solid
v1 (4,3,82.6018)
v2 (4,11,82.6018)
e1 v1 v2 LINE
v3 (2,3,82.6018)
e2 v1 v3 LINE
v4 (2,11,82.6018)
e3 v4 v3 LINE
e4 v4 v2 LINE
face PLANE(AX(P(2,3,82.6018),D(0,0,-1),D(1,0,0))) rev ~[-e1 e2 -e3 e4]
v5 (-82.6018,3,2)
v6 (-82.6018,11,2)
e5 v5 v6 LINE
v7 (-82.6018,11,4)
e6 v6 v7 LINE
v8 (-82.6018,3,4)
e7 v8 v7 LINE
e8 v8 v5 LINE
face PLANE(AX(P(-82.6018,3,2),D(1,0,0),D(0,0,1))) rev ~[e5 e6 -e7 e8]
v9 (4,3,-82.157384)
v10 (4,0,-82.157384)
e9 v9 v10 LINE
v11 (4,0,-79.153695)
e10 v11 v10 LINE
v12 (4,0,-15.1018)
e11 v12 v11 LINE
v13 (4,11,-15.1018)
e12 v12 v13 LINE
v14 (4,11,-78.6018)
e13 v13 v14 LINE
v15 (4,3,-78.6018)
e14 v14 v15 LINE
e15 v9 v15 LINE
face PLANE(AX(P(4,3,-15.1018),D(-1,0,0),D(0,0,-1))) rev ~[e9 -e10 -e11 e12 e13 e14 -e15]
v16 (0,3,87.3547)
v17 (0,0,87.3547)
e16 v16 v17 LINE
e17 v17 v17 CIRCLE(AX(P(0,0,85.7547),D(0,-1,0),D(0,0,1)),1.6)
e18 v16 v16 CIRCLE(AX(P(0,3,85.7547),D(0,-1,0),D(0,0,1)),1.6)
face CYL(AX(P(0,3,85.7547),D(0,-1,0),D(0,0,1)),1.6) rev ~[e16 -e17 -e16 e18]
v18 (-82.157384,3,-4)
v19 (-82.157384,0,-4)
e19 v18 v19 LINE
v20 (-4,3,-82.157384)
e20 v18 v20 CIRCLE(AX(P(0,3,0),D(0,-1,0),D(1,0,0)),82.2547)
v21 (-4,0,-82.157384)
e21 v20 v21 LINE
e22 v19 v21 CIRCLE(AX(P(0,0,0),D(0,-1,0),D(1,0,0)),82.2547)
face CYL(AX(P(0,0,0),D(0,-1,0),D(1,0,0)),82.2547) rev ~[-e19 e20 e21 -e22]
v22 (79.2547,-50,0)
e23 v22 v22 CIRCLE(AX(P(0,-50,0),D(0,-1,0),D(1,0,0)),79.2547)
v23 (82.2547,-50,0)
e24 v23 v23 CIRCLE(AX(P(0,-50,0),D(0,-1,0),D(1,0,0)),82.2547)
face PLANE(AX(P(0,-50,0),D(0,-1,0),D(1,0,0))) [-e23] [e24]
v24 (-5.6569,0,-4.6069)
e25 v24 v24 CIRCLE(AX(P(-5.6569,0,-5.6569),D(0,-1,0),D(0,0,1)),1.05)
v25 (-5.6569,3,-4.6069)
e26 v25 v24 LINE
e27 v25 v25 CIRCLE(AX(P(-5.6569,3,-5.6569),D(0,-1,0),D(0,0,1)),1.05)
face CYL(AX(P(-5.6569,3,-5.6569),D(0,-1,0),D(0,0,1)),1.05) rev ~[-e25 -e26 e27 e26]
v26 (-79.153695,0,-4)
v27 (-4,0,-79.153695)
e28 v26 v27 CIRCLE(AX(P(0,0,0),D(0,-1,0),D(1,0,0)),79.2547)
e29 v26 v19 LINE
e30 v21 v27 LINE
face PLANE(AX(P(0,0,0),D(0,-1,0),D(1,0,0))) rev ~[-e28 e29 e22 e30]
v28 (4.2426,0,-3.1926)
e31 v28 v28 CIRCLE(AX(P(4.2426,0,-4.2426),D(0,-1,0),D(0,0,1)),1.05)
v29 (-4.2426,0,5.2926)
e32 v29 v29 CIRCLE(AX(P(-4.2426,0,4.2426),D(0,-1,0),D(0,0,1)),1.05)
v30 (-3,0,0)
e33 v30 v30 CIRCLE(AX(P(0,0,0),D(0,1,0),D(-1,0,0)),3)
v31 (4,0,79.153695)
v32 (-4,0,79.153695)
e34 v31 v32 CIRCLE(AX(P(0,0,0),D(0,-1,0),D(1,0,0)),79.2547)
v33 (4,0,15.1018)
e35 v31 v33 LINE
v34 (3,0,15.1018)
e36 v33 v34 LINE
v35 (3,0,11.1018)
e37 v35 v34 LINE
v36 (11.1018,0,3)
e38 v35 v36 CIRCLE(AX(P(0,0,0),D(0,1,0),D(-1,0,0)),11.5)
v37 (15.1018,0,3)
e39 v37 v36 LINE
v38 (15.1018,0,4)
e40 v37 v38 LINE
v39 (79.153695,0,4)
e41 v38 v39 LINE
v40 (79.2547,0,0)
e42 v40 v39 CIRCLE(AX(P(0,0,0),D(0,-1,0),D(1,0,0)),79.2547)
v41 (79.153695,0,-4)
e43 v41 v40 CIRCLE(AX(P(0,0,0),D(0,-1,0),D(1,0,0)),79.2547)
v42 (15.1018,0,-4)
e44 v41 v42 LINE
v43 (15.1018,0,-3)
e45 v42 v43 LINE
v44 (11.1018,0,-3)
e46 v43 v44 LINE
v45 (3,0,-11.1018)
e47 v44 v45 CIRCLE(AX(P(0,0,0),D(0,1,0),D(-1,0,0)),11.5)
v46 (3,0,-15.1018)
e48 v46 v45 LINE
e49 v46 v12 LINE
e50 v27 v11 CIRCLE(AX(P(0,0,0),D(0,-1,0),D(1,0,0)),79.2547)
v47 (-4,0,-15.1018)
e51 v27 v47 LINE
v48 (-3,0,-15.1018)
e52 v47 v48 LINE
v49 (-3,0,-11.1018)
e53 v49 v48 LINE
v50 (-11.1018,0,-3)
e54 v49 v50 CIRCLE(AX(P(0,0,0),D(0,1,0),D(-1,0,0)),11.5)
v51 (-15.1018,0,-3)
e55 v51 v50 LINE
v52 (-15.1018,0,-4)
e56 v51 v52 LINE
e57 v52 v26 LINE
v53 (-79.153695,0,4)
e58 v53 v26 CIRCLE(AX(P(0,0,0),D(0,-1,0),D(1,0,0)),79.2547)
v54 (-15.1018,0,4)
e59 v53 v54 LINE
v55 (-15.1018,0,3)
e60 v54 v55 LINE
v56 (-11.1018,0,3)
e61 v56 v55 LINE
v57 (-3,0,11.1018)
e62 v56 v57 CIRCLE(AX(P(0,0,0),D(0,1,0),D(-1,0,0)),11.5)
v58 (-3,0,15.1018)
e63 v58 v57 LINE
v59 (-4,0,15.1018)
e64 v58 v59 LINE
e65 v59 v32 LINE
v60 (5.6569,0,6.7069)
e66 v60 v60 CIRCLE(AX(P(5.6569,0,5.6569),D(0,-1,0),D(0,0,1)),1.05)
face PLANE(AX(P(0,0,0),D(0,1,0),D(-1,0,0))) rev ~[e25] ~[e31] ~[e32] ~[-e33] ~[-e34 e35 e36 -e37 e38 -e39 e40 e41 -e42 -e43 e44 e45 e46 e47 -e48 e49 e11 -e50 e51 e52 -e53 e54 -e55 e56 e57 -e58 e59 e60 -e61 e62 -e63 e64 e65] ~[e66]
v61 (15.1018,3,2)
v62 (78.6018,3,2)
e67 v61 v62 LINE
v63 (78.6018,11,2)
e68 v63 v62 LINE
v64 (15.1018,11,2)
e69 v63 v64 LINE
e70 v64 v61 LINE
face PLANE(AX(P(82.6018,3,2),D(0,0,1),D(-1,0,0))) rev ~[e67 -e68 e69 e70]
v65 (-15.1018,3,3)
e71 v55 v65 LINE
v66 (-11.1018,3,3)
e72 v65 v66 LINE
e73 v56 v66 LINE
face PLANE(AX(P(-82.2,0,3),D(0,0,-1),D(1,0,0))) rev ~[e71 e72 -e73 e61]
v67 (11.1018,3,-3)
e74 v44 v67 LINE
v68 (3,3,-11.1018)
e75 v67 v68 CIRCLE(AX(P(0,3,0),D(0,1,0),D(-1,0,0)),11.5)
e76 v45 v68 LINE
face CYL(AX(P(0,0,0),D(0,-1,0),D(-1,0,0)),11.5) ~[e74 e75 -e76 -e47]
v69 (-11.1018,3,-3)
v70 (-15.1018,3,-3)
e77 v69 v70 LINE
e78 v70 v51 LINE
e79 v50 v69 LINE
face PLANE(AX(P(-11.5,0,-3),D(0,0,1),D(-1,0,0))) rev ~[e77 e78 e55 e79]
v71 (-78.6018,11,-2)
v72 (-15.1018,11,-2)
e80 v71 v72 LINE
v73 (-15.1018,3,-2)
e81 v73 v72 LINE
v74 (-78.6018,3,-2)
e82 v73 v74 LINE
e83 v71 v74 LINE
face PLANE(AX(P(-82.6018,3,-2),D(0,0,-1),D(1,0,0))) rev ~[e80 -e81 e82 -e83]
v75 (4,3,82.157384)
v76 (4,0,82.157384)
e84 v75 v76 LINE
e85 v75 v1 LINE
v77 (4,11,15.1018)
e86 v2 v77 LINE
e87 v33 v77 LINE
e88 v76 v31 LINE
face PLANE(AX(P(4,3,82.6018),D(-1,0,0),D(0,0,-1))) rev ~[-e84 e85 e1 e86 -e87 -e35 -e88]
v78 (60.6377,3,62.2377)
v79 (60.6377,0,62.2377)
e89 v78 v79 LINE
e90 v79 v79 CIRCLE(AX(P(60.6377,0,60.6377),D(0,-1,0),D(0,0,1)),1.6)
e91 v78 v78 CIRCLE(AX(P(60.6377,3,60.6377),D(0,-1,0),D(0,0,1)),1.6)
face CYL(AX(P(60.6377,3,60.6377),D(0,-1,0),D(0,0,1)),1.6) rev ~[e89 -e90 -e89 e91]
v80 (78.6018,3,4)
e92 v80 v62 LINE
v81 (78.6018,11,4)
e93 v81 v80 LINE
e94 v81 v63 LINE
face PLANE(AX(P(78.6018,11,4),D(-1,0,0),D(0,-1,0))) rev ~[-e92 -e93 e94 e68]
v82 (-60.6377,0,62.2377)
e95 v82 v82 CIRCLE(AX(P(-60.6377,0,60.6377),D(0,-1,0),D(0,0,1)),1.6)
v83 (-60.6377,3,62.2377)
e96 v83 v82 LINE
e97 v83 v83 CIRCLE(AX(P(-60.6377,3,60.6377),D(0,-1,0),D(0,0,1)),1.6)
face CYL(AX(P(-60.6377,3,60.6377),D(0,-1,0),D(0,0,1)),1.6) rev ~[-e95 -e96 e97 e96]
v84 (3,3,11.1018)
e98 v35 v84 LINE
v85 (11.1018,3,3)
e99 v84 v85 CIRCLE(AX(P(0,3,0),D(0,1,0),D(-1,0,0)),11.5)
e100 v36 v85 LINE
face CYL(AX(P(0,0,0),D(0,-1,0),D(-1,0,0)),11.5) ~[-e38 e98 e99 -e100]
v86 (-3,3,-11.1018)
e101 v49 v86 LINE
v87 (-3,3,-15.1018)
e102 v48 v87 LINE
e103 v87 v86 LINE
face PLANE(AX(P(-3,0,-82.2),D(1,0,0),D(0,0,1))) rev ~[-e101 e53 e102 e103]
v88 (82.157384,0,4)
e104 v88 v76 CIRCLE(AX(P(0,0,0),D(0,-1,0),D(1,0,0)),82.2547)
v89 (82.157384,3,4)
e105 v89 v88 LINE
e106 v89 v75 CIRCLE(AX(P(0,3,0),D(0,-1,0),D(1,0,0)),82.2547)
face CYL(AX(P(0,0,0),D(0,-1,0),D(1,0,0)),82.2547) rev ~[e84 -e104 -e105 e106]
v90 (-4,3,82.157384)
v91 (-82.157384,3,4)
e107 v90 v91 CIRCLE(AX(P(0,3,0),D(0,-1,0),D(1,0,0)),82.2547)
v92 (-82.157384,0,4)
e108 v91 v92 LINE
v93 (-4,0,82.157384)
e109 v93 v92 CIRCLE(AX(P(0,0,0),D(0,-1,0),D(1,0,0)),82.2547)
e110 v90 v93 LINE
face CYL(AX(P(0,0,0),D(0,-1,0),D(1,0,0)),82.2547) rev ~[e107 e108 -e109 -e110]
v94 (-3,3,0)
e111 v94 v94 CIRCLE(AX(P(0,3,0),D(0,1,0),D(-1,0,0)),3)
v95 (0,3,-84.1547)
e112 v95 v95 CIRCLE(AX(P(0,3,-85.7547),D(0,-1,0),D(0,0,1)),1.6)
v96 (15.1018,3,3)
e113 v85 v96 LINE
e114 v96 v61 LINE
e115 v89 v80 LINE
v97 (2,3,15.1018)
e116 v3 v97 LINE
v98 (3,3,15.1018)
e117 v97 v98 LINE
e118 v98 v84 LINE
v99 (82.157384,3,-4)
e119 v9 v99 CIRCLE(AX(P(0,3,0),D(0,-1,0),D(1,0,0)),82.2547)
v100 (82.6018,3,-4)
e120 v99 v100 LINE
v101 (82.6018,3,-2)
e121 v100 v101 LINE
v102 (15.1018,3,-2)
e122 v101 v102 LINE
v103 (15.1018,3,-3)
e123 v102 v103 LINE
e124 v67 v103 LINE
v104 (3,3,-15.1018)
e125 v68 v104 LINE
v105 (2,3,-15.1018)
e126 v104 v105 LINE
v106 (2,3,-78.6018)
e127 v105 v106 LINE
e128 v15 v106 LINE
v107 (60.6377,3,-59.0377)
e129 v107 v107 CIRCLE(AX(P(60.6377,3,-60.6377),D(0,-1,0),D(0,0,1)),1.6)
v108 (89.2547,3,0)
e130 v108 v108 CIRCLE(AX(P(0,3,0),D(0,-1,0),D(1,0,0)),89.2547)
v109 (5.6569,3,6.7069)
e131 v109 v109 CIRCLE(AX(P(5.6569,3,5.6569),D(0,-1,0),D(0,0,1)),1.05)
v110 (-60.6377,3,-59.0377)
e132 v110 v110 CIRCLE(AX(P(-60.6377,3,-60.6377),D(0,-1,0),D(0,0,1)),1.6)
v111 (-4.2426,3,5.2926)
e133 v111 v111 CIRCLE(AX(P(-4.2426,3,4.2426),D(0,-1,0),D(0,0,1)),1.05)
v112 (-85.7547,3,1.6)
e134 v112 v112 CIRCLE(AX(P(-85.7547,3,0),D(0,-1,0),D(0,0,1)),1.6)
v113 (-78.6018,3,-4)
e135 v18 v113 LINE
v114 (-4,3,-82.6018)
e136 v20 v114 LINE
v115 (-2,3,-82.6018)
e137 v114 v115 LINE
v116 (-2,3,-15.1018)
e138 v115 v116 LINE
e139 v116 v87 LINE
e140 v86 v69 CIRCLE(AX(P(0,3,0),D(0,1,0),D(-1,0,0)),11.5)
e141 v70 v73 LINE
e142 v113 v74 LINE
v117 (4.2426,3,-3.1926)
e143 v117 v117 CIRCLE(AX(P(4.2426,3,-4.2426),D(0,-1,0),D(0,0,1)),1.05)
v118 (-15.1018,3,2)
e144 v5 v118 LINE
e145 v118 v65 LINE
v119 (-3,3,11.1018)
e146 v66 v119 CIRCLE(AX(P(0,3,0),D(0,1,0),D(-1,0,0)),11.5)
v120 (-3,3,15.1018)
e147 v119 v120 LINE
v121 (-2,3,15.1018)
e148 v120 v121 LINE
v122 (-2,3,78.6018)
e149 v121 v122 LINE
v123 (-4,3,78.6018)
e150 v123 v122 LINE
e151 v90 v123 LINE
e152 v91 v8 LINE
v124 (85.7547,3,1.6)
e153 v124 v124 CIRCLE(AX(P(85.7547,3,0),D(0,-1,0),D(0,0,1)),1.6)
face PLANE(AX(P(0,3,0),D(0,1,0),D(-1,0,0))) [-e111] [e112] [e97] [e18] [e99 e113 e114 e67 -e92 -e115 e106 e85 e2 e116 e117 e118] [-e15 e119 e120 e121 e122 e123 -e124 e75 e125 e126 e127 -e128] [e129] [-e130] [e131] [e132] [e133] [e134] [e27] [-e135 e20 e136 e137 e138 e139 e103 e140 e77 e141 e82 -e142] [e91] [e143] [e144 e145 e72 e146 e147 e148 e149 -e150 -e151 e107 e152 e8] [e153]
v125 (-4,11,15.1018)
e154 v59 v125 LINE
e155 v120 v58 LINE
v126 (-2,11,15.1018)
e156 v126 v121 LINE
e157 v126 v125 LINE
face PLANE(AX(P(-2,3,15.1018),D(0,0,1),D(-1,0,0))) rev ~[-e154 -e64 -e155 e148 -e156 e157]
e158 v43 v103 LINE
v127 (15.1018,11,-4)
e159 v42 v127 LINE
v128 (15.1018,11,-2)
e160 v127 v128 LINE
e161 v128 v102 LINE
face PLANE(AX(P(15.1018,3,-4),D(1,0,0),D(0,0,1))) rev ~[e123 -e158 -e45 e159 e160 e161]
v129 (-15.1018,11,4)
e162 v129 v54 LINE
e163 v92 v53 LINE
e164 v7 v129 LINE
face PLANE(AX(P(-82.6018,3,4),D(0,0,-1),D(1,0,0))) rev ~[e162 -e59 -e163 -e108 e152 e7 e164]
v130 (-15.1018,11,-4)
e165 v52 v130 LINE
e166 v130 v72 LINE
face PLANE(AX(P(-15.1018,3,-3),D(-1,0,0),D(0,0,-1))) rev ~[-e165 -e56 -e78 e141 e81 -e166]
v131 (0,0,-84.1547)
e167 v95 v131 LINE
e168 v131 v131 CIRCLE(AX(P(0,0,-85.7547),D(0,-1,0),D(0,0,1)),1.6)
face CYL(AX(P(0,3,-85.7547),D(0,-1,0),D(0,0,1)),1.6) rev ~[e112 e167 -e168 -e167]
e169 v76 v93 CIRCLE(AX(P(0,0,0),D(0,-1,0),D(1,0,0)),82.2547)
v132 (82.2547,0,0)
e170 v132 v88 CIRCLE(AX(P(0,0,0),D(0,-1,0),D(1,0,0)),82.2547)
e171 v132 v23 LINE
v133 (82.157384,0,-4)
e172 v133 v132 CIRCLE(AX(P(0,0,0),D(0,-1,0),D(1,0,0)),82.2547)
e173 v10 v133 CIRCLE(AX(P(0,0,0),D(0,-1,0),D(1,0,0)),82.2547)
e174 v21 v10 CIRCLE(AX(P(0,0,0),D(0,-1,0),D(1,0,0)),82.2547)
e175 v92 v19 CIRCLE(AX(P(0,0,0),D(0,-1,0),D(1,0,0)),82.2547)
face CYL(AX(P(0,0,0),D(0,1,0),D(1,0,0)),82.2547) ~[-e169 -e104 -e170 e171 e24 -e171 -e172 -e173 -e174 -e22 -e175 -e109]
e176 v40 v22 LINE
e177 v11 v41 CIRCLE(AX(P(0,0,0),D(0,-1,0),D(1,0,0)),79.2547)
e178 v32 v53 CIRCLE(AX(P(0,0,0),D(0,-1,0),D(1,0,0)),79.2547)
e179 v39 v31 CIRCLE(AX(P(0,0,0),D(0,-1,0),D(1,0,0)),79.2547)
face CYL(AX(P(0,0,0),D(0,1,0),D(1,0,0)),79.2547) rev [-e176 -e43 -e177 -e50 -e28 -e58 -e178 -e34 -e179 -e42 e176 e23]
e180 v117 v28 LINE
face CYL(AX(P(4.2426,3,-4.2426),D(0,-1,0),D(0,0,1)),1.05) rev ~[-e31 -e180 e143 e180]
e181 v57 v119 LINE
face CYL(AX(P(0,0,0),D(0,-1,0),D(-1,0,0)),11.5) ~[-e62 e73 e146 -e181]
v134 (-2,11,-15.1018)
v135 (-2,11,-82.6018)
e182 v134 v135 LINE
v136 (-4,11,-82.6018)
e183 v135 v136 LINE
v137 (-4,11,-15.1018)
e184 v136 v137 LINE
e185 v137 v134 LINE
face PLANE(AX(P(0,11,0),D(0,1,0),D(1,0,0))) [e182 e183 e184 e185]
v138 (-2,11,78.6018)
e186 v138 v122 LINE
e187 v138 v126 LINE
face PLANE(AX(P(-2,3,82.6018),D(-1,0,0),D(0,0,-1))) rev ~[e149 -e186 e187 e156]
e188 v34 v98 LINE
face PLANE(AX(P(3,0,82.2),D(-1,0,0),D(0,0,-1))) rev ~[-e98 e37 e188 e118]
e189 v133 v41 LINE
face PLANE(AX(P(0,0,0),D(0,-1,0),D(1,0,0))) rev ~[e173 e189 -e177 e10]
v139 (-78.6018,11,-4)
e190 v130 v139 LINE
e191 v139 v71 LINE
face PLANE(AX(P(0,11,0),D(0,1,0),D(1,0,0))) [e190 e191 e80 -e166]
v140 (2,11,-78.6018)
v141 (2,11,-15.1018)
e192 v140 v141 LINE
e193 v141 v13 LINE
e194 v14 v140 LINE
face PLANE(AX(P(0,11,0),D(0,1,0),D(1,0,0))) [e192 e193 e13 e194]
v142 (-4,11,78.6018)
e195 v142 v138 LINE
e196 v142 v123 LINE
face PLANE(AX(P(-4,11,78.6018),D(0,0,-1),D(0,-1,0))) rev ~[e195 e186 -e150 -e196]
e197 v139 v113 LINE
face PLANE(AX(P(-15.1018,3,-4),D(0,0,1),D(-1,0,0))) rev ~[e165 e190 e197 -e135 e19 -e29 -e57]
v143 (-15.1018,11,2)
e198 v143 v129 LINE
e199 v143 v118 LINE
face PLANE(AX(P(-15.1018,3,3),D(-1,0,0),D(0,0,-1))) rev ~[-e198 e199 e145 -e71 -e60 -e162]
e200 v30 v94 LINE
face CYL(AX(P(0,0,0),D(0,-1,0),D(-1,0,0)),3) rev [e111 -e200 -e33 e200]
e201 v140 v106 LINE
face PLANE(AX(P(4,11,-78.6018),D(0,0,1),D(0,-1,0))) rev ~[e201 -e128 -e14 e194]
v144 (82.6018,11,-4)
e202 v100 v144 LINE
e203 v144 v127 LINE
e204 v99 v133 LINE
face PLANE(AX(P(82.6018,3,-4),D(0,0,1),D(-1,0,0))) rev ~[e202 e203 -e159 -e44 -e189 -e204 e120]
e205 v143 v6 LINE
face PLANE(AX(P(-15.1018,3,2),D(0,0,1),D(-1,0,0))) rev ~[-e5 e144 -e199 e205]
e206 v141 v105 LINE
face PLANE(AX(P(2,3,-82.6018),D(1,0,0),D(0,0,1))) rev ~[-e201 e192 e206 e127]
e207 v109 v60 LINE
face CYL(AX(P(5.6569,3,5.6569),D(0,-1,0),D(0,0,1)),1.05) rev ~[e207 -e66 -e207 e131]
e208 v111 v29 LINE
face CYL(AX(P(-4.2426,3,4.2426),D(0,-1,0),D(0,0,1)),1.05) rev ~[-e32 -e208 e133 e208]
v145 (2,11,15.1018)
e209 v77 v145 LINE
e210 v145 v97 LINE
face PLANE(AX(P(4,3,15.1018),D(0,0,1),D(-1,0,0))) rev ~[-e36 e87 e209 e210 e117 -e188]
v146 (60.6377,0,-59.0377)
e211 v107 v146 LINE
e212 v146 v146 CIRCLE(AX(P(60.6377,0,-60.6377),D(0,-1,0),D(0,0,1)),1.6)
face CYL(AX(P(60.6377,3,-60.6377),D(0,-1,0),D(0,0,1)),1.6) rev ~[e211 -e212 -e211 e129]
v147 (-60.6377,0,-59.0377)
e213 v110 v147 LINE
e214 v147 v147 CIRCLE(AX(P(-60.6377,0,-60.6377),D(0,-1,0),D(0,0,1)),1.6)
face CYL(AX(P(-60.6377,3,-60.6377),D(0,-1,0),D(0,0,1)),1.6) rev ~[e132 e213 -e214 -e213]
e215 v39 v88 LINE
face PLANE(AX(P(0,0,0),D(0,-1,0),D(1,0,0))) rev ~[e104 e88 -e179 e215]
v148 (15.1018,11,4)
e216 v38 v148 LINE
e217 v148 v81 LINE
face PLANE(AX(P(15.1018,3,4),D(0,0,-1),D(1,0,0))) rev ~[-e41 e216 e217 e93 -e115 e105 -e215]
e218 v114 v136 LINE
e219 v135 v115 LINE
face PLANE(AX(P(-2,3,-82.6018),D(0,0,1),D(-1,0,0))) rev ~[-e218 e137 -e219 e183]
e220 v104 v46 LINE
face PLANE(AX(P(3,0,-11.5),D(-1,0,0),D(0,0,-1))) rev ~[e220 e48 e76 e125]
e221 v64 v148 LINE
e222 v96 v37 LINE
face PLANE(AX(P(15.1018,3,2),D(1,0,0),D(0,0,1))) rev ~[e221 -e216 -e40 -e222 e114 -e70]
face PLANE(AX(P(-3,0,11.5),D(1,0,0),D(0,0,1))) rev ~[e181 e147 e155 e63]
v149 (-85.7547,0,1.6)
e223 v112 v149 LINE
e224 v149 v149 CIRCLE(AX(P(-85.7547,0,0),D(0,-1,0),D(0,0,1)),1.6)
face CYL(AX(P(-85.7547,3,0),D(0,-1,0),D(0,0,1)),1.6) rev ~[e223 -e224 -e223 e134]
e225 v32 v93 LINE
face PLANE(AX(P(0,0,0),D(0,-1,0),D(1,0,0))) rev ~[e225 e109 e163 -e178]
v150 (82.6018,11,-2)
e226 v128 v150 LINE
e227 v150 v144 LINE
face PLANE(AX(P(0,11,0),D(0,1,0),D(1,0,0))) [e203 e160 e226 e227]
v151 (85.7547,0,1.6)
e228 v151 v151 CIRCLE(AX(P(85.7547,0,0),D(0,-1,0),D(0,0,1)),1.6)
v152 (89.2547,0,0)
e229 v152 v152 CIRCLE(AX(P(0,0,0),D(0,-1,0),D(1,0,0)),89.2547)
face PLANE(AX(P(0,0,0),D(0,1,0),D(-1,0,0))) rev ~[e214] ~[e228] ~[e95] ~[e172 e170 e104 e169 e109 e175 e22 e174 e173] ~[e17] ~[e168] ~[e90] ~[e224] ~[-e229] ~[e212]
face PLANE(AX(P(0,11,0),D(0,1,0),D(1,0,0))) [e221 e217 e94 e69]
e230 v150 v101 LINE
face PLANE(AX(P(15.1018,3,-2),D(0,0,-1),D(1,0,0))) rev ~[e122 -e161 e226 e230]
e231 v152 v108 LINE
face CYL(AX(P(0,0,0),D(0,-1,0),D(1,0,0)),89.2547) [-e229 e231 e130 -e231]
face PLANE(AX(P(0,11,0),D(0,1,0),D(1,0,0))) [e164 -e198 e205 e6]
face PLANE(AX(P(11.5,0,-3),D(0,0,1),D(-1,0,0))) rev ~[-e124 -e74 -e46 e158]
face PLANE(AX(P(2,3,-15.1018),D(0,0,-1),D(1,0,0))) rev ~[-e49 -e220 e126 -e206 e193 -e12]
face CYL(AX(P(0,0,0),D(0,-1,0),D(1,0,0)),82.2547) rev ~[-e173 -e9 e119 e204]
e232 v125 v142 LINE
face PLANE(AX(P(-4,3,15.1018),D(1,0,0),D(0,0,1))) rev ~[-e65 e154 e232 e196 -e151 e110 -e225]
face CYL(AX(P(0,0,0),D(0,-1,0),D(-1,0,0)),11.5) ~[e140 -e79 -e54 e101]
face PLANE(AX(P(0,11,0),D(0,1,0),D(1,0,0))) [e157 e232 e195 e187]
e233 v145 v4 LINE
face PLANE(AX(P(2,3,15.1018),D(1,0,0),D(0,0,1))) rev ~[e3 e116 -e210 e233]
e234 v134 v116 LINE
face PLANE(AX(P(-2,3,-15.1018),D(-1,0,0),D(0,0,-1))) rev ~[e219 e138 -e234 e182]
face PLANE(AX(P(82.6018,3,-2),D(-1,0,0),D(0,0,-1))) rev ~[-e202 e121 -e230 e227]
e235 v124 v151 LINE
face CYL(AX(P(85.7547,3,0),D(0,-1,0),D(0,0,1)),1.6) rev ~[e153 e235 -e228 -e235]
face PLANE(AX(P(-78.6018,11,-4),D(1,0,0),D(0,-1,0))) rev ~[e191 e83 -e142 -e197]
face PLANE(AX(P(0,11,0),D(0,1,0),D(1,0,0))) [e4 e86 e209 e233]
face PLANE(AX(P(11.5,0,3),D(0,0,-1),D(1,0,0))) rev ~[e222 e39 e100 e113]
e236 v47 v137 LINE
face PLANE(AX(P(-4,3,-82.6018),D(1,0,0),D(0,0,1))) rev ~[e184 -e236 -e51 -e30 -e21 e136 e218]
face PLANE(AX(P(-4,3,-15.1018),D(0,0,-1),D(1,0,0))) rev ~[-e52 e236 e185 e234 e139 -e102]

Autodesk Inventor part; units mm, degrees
ref_plane "YZ Plane" through (0, 0, 0) normal (1, 0, 0) x (0, 1, 0)
ref_plane "XZ Plane" through (0, 0, 0) normal (0, 1, 0) x (-1, 0, 0)
ref_plane "XY Plane" through (0, 0, 0) normal (0, 0, 1) x (1, 0, 0)
sketch "Szkic1" plane through (0, 0, 0) normal (0, 1, 0) x (-1, 0, 0)
  circle A0 centre (0, 0) radius 11.5
  circle A1 centre (0, 0) radius 3
  line L0 (6, 8) -> (-6, 8)
  line L1 (-6, 8) -> (-6, -8)
  line L2 (-6, -8) -> (6, -8)
  line L3 (6, -8) -> (6, 8)
  line L4 (6, 8) -> (-6, -8) construction
  line L5 (-6, 8) -> (6, -8) construction
  line L6 (0, 8) -> (6, 0)
  line L7 (6, 0) -> (0, -8)
  line L8 (0, -8) -> (-6, 0)
  line L9 (-6, 0) -> (0, 8)
  dimension "d0" = 23
  dimension "d1" = 6
  dimension "d2" = 16
  dimension "d3" = 12
extrude "Wyciągnięcie proste1" add sketch "Szkic1" along normal blind 3 contours A0 | L3 L6 L0 | L9 L1 L0 | L6 L7 L8 L9 | L3 L2 L7 | L8 L2 L1
sketch "Szkic2" plane through (0, 0, 0) normal (0, -1, 0) x (1, 0, 0)
  circle A0 centre (0, 0) radius 11.5 projected
  line L0 (-11.5, 0) -> (-11.5, -3)
  line L1 (-11.5, -3) -> (-82.2, -3)
  line L2 (-82.2, -3) -> (-82.2, 3)
  line L3 (-82.2, 3) -> (-11.5, 3)
  line L4 (-11.5, 3) -> (-11.5, -3)
  line L5 (-11.5, 3) -> (-11.1018, 3)
  line L6 (-11.5, -3) -> (-11.1018, -3)
  circle A1 centre (0, 0) radius 3 projected
  line L7 (3, -11.5) -> (3, -82.2)
  line L8 (-3, -82.2) -> (-3, -11.5)
  line L9 (3, -11.5) -> (3, -11.1018)
  line L10 (0, -11.5) -> (3, -11.5)
  line L11 (-3, -11.5) -> (-3, -11.1018)
  line L12 (-3, -11.5) -> (3, -11.5)
  line L13 (3, -82.2) -> (-3, -82.2)
  line L14 (11.5, 3) -> (82.2, 3)
  line L15 (82.2, -3) -> (11.5, -3)
  line L16 (11.5, 3) -> (11.1018, 3)
  line L17 (11.5, 0) -> (11.5, 3)
  line L18 (11.5, -3) -> (11.1018, -3)
  line L19 (11.5, -3) -> (11.5, 3)
  line L20 (82.2, 3) -> (82.2, -3)
  line L21 (-3, 11.5) -> (-3, 82.2)
  line L22 (3, 82.2) -> (3, 11.5)
  line L23 (-3, 11.5) -> (-3, 11.1018)
  line L24 (0, 11.5) -> (-3, 11.5)
  line L25 (3, 11.5) -> (3, 11.1018)
  line L26 (3, 11.5) -> (-3, 11.5)
  line L27 (-3, 82.2) -> (3, 82.2)
  circle A2 centre (0, 0) radius 82.2547
  circle A3 centre (0, 0) radius 89.2547
  point P0 (-11.5, 0)
  point P1 (0, -11.5)
  point P2 (11.5, 0)
  point P3 (0, 11.5)
  point P4 (11.5, 0)
  point P5 (11.5, 0)
  point P6 (11.5, 0)
  dimension "d15" = 70.7
  dimension "d17" = 6
  dimension "d18" = 3
  dimension "d21" = 360
  dimension "d23" = 7
extrude "Wyciągnięcie proste2" add sketch "Szkic2" against normal blind 3 contours L19 L18 A0 | A0 L16 L17 | L17 L14 L20 L15 L19 | A0 L26 L25 | L9 L10 A0 | A2 L20 | A0 L23 L24 | L24 L21 L27 L22 L26 | L12 L11 A0 | L10 L7 L13 L8 L12 | L27 A2 | A2 L13 | A0 L4 L5 | L6 L0 A0 | L3 L4 L0 L1 L2 | L2 A2 | A3
sketch "Szkic3" plane through (0, 3, 0) normal (0, 1, 0) x (1, 0, 0)
  line L0 (82.2, 3) -> (11.1018, 3) projected
  circle A0 centre (0, 0) radius 89.2547 projected
  line L1 (0, 89.2547) -> (89.2547, 89.2547)
  line L2 (89.2547, 89.2547) -> (89.2547, 0)
  line L3 (89.2547, 0) -> (0, 0)
  line L4 (0, 0) -> (0, 89.2547)
  circle A1 centre (0, 0) radius 3 projected
  line L5 (0, 0) -> (89.2547, 89.2547)
  circle A2 centre (60.6377, 60.6377) radius 3.5
  arc A3 (82.2, 3) -> (3, 82.2) centre (0, 0) ccw projected
  circle A4 centre (0, 85.7547) radius 3.5
  circle A5 centre (-60.6377, 60.6377) radius 3.5
  circle A6 centre (-85.7547, 0) radius 3.5
  circle A7 centre (-60.6377, -60.6377) radius 3.5
  circle A8 centre (0, -85.7547) radius 3.5
  circle A9 centre (60.6377, -60.6377) radius 3.5
  circle A10 centre (85.7547, 0) radius 3.5
  dimension "d42" = 360
hole "Otwór3" at (60.6377, 3, -60.6377) at (0, 3, -85.7547) at (-60.6377, 3, -60.6377) at (-85.7547, 3, 0) at (85.7547, 3, 0) at (-60.6377, 3, 60.6377) at (0, 3, 85.7547) at (60.6377, 3, 60.6377) direction (0, -1, 0) diameter 3.2 end through all
sketch "Szkic5" plane through (0, 3, 0) normal (0, 1, 0) x (1, 0, 0)
  line L0 (9.8995, -1.4142) -> (1.4142, -9.8995)
  line L1 (1.4142, -9.8995) -> (-9.8995, 1.4142)
  line L2 (-9.8995, 1.4142) -> (-1.4142, 9.8995)
  line L3 (-1.4142, 9.8995) -> (9.8995, -1.4142)
  arc A0 (3, -11.1018) -> (11.1018, -3) centre (0, 0) ccw projected
  arc A1 (-11.1018, -3) -> (-3, -11.1018) centre (0, 0) ccw projected
  line L4 (3, -11.1018) -> (-3, -11.1018)
  line L5 (5.6569, -5.6569) -> (4.2426, 4.2426)
  line L6 (4.2426, 4.2426) -> (-5.6569, 5.6569)
  line L7 (-5.6569, 5.6569) -> (-4.2426, -4.2426)
  line L8 (-4.2426, -4.2426) -> (5.6569, -5.6569)
  dimension "d57" = 45
  dimension "d58" = 12
  dimension "d59" = 16
  dimension "d60" = 6
  dimension "d61" = 8
hole "Otwór4" at (5.6569, 3, 5.6569) at (4.2426, 3, -4.2426) at (-5.6569, 3, -5.6569) at (-4.2426, 3, 4.2426) direction (0, -1, 0) diameter 2.1 end through all
sketch "Szkic6" plane through (0, 3, 0) normal (0, 1, 0) x (1, 0, 0)
  line L0 (-15.1018, 2) -> (-15.1018, 4)
  line L1 (-15.1018, 4) -> (-82.6018, 4)
  line L2 (-82.6018, 4) -> (-82.6018, 2)
  line L3 (-82.6018, 2) -> (-15.1018, 2)
  line L4 (-11.1018, 3) -> (-82.2, 3) projected
  line L5 (-4, -15.1018) -> (-4, -82.6018)
  line L6 (-2, -82.6018) -> (-2, -15.1018)
  line L7 (-4, -82.6018) -> (-2, -82.6018)
  line L8 (-2, -15.1018) -> (-4, -15.1018)
  line L9 (15.1018, -4) -> (82.6018, -4)
  line L10 (82.6018, -2) -> (15.1018, -2)
  line L11 (82.6018, -4) -> (82.6018, -2)
  line L12 (15.1018, -2) -> (15.1018, -4)
  line L13 (4, 15.1018) -> (4, 82.6018)
  line L14 (2, 82.6018) -> (2, 15.1018)
  line L15 (4, 82.6018) -> (2, 82.6018)
  line L16 (2, 15.1018) -> (4, 15.1018)
  line L17 (-82.6018, -2) -> (-82.6018, -4)
  line L18 (-82.6018, -4) -> (-15.1018, -4)
  line L19 (-15.1018, -4) -> (-15.1018, -2)
  line L20 (-15.1018, -2) -> (-82.6018, -2)
  line L21 (-82.2, -3) -> (-11.1018, -3) projected
  line L22 (4, -82.6018) -> (4, -15.1018)
  line L23 (2, -15.1018) -> (2, -82.6018)
  line L24 (2, -82.6018) -> (4, -82.6018)
  line L25 (4, -15.1018) -> (2, -15.1018)
  line L26 (82.6018, 4) -> (15.1018, 4)
  line L27 (15.1018, 2) -> (82.6018, 2)
  line L28 (82.6018, 2) -> (82.6018, 4)
  line L29 (15.1018, 4) -> (15.1018, 2)
  line L30 (-4, 82.6018) -> (-4, 15.1018)
  line L31 (-2, 15.1018) -> (-2, 82.6018)
  line L32 (-2, 82.6018) -> (-4, 82.6018)
  line L33 (-4, 15.1018) -> (-2, 15.1018)
  point P0 (0, 0)
  point P1 (-3, -82.2)
  point P2 (82.2, -3)
  point P3 (3, 82.2)
  dimension "d69" = 2
  dimension "d70" = 1
  dimension "d71" = 4
  dimension "d72" = 67.5
  dimension "d75" = 360
  dimension "d77" = 1
  dimension "d78" = 2
  dimension "d79" = 67.5
  dimension "d80" = 4
  dimension "d83" = 360
extrude "Wyciągnięcie proste4" add sketch "Szkic6" along normal blind 8 and the other way blind 3
sketch "Szkic7" plane through (-4, 0, 15.1018) normal (-1, 0, 0) x (0, 0, 1)
  line L0 (0, 11) -> (67.5, 11) projected
  line L1 (74.1529, 3) -> (-104.3565, 3) projected
  line L2 (67.5, 11) -> (63.5, 11)
  line L3 (63.5, 11) -> (63.5, 3)
  line L4 (63.5, 3) -> (67.5, 3)
  line L5 (67.5, 3) -> (67.5, 11)
  point P0 (-15.1018, 0)
  dimension "d89" = 4
extrude "Wyciągnięcie proste5" cut sketch "Szkic7" against normal blind 2
pattern_circular "Szyk kołowy1" count 4 over 360 about axis through (0, 0, 0) along (0, 1, 0) of "Wyciągnięcie proste5"
sketch "Szkic8" plane through (0, 0, 0) normal (0, -1, 0) x (1, 0, 0)
  circle A0 centre (0, 0) radius 79.2547
  circle A1 centre (0, 0) radius 3 projected
  circle A2 centre (0, 0) radius 82.2547
  dimension "d95" = 164.5094
  dimension "d96" = 158.5094
extrude "Wyciągnięcie proste6" add sketch "Szkic8" along normal blind 50 contours A2
sketch "Szkic9" plane through (0, 3, 0) normal (0, 1, 0) x (1, 0, 0)
  circle A0 centre (0, 0) radius 3 projected
  circle A1 centre (0, 0) radius 79.2547 projected
  circle A2 centre (0, 0) radius 82.2547
  circle A3 centre (0, 0) radius 79.2547
  line L0 (-4, -82.1574) -> (-4, -79.1537) projected
  line L1 (-4, -82.1574) -> (-4, -79.1537)
  line L2 (-82.1574, 4) -> (-78.6018, 4) projected
  line L3 (-82.1574, 4) -> (-78.6018, 4)
  line L4 (-78.6018, 4) -> (-79.1537, 4)
  line L5 (4, 79.1537) -> (4, 15.1018) projected
  line L6 (4, 79.1537) -> (4, 82.1574)
  line L7 (79.1537, -4) -> (-82.1574, -4)
  line L8 (78.6018, -4) -> (78.6018, -2) projected
  arc A4 (-82.1574, -4) -> (-4, -82.1574) centre (0, 0) ccw projected
  line L9 (-6.4282, -82.0032) -> (-6.3234, -79.0015)
  point P0 (-6.3344, -79.0012)
  dimension "d100" = 3
  dimension "d101" = 2
equation "\"d77\" = d70"
equation "\"d78\" = d69"
equation "\"d79\" = d72"
equation "\"d80\" = d71"
properties part number "rama-silnik-dol-2"
